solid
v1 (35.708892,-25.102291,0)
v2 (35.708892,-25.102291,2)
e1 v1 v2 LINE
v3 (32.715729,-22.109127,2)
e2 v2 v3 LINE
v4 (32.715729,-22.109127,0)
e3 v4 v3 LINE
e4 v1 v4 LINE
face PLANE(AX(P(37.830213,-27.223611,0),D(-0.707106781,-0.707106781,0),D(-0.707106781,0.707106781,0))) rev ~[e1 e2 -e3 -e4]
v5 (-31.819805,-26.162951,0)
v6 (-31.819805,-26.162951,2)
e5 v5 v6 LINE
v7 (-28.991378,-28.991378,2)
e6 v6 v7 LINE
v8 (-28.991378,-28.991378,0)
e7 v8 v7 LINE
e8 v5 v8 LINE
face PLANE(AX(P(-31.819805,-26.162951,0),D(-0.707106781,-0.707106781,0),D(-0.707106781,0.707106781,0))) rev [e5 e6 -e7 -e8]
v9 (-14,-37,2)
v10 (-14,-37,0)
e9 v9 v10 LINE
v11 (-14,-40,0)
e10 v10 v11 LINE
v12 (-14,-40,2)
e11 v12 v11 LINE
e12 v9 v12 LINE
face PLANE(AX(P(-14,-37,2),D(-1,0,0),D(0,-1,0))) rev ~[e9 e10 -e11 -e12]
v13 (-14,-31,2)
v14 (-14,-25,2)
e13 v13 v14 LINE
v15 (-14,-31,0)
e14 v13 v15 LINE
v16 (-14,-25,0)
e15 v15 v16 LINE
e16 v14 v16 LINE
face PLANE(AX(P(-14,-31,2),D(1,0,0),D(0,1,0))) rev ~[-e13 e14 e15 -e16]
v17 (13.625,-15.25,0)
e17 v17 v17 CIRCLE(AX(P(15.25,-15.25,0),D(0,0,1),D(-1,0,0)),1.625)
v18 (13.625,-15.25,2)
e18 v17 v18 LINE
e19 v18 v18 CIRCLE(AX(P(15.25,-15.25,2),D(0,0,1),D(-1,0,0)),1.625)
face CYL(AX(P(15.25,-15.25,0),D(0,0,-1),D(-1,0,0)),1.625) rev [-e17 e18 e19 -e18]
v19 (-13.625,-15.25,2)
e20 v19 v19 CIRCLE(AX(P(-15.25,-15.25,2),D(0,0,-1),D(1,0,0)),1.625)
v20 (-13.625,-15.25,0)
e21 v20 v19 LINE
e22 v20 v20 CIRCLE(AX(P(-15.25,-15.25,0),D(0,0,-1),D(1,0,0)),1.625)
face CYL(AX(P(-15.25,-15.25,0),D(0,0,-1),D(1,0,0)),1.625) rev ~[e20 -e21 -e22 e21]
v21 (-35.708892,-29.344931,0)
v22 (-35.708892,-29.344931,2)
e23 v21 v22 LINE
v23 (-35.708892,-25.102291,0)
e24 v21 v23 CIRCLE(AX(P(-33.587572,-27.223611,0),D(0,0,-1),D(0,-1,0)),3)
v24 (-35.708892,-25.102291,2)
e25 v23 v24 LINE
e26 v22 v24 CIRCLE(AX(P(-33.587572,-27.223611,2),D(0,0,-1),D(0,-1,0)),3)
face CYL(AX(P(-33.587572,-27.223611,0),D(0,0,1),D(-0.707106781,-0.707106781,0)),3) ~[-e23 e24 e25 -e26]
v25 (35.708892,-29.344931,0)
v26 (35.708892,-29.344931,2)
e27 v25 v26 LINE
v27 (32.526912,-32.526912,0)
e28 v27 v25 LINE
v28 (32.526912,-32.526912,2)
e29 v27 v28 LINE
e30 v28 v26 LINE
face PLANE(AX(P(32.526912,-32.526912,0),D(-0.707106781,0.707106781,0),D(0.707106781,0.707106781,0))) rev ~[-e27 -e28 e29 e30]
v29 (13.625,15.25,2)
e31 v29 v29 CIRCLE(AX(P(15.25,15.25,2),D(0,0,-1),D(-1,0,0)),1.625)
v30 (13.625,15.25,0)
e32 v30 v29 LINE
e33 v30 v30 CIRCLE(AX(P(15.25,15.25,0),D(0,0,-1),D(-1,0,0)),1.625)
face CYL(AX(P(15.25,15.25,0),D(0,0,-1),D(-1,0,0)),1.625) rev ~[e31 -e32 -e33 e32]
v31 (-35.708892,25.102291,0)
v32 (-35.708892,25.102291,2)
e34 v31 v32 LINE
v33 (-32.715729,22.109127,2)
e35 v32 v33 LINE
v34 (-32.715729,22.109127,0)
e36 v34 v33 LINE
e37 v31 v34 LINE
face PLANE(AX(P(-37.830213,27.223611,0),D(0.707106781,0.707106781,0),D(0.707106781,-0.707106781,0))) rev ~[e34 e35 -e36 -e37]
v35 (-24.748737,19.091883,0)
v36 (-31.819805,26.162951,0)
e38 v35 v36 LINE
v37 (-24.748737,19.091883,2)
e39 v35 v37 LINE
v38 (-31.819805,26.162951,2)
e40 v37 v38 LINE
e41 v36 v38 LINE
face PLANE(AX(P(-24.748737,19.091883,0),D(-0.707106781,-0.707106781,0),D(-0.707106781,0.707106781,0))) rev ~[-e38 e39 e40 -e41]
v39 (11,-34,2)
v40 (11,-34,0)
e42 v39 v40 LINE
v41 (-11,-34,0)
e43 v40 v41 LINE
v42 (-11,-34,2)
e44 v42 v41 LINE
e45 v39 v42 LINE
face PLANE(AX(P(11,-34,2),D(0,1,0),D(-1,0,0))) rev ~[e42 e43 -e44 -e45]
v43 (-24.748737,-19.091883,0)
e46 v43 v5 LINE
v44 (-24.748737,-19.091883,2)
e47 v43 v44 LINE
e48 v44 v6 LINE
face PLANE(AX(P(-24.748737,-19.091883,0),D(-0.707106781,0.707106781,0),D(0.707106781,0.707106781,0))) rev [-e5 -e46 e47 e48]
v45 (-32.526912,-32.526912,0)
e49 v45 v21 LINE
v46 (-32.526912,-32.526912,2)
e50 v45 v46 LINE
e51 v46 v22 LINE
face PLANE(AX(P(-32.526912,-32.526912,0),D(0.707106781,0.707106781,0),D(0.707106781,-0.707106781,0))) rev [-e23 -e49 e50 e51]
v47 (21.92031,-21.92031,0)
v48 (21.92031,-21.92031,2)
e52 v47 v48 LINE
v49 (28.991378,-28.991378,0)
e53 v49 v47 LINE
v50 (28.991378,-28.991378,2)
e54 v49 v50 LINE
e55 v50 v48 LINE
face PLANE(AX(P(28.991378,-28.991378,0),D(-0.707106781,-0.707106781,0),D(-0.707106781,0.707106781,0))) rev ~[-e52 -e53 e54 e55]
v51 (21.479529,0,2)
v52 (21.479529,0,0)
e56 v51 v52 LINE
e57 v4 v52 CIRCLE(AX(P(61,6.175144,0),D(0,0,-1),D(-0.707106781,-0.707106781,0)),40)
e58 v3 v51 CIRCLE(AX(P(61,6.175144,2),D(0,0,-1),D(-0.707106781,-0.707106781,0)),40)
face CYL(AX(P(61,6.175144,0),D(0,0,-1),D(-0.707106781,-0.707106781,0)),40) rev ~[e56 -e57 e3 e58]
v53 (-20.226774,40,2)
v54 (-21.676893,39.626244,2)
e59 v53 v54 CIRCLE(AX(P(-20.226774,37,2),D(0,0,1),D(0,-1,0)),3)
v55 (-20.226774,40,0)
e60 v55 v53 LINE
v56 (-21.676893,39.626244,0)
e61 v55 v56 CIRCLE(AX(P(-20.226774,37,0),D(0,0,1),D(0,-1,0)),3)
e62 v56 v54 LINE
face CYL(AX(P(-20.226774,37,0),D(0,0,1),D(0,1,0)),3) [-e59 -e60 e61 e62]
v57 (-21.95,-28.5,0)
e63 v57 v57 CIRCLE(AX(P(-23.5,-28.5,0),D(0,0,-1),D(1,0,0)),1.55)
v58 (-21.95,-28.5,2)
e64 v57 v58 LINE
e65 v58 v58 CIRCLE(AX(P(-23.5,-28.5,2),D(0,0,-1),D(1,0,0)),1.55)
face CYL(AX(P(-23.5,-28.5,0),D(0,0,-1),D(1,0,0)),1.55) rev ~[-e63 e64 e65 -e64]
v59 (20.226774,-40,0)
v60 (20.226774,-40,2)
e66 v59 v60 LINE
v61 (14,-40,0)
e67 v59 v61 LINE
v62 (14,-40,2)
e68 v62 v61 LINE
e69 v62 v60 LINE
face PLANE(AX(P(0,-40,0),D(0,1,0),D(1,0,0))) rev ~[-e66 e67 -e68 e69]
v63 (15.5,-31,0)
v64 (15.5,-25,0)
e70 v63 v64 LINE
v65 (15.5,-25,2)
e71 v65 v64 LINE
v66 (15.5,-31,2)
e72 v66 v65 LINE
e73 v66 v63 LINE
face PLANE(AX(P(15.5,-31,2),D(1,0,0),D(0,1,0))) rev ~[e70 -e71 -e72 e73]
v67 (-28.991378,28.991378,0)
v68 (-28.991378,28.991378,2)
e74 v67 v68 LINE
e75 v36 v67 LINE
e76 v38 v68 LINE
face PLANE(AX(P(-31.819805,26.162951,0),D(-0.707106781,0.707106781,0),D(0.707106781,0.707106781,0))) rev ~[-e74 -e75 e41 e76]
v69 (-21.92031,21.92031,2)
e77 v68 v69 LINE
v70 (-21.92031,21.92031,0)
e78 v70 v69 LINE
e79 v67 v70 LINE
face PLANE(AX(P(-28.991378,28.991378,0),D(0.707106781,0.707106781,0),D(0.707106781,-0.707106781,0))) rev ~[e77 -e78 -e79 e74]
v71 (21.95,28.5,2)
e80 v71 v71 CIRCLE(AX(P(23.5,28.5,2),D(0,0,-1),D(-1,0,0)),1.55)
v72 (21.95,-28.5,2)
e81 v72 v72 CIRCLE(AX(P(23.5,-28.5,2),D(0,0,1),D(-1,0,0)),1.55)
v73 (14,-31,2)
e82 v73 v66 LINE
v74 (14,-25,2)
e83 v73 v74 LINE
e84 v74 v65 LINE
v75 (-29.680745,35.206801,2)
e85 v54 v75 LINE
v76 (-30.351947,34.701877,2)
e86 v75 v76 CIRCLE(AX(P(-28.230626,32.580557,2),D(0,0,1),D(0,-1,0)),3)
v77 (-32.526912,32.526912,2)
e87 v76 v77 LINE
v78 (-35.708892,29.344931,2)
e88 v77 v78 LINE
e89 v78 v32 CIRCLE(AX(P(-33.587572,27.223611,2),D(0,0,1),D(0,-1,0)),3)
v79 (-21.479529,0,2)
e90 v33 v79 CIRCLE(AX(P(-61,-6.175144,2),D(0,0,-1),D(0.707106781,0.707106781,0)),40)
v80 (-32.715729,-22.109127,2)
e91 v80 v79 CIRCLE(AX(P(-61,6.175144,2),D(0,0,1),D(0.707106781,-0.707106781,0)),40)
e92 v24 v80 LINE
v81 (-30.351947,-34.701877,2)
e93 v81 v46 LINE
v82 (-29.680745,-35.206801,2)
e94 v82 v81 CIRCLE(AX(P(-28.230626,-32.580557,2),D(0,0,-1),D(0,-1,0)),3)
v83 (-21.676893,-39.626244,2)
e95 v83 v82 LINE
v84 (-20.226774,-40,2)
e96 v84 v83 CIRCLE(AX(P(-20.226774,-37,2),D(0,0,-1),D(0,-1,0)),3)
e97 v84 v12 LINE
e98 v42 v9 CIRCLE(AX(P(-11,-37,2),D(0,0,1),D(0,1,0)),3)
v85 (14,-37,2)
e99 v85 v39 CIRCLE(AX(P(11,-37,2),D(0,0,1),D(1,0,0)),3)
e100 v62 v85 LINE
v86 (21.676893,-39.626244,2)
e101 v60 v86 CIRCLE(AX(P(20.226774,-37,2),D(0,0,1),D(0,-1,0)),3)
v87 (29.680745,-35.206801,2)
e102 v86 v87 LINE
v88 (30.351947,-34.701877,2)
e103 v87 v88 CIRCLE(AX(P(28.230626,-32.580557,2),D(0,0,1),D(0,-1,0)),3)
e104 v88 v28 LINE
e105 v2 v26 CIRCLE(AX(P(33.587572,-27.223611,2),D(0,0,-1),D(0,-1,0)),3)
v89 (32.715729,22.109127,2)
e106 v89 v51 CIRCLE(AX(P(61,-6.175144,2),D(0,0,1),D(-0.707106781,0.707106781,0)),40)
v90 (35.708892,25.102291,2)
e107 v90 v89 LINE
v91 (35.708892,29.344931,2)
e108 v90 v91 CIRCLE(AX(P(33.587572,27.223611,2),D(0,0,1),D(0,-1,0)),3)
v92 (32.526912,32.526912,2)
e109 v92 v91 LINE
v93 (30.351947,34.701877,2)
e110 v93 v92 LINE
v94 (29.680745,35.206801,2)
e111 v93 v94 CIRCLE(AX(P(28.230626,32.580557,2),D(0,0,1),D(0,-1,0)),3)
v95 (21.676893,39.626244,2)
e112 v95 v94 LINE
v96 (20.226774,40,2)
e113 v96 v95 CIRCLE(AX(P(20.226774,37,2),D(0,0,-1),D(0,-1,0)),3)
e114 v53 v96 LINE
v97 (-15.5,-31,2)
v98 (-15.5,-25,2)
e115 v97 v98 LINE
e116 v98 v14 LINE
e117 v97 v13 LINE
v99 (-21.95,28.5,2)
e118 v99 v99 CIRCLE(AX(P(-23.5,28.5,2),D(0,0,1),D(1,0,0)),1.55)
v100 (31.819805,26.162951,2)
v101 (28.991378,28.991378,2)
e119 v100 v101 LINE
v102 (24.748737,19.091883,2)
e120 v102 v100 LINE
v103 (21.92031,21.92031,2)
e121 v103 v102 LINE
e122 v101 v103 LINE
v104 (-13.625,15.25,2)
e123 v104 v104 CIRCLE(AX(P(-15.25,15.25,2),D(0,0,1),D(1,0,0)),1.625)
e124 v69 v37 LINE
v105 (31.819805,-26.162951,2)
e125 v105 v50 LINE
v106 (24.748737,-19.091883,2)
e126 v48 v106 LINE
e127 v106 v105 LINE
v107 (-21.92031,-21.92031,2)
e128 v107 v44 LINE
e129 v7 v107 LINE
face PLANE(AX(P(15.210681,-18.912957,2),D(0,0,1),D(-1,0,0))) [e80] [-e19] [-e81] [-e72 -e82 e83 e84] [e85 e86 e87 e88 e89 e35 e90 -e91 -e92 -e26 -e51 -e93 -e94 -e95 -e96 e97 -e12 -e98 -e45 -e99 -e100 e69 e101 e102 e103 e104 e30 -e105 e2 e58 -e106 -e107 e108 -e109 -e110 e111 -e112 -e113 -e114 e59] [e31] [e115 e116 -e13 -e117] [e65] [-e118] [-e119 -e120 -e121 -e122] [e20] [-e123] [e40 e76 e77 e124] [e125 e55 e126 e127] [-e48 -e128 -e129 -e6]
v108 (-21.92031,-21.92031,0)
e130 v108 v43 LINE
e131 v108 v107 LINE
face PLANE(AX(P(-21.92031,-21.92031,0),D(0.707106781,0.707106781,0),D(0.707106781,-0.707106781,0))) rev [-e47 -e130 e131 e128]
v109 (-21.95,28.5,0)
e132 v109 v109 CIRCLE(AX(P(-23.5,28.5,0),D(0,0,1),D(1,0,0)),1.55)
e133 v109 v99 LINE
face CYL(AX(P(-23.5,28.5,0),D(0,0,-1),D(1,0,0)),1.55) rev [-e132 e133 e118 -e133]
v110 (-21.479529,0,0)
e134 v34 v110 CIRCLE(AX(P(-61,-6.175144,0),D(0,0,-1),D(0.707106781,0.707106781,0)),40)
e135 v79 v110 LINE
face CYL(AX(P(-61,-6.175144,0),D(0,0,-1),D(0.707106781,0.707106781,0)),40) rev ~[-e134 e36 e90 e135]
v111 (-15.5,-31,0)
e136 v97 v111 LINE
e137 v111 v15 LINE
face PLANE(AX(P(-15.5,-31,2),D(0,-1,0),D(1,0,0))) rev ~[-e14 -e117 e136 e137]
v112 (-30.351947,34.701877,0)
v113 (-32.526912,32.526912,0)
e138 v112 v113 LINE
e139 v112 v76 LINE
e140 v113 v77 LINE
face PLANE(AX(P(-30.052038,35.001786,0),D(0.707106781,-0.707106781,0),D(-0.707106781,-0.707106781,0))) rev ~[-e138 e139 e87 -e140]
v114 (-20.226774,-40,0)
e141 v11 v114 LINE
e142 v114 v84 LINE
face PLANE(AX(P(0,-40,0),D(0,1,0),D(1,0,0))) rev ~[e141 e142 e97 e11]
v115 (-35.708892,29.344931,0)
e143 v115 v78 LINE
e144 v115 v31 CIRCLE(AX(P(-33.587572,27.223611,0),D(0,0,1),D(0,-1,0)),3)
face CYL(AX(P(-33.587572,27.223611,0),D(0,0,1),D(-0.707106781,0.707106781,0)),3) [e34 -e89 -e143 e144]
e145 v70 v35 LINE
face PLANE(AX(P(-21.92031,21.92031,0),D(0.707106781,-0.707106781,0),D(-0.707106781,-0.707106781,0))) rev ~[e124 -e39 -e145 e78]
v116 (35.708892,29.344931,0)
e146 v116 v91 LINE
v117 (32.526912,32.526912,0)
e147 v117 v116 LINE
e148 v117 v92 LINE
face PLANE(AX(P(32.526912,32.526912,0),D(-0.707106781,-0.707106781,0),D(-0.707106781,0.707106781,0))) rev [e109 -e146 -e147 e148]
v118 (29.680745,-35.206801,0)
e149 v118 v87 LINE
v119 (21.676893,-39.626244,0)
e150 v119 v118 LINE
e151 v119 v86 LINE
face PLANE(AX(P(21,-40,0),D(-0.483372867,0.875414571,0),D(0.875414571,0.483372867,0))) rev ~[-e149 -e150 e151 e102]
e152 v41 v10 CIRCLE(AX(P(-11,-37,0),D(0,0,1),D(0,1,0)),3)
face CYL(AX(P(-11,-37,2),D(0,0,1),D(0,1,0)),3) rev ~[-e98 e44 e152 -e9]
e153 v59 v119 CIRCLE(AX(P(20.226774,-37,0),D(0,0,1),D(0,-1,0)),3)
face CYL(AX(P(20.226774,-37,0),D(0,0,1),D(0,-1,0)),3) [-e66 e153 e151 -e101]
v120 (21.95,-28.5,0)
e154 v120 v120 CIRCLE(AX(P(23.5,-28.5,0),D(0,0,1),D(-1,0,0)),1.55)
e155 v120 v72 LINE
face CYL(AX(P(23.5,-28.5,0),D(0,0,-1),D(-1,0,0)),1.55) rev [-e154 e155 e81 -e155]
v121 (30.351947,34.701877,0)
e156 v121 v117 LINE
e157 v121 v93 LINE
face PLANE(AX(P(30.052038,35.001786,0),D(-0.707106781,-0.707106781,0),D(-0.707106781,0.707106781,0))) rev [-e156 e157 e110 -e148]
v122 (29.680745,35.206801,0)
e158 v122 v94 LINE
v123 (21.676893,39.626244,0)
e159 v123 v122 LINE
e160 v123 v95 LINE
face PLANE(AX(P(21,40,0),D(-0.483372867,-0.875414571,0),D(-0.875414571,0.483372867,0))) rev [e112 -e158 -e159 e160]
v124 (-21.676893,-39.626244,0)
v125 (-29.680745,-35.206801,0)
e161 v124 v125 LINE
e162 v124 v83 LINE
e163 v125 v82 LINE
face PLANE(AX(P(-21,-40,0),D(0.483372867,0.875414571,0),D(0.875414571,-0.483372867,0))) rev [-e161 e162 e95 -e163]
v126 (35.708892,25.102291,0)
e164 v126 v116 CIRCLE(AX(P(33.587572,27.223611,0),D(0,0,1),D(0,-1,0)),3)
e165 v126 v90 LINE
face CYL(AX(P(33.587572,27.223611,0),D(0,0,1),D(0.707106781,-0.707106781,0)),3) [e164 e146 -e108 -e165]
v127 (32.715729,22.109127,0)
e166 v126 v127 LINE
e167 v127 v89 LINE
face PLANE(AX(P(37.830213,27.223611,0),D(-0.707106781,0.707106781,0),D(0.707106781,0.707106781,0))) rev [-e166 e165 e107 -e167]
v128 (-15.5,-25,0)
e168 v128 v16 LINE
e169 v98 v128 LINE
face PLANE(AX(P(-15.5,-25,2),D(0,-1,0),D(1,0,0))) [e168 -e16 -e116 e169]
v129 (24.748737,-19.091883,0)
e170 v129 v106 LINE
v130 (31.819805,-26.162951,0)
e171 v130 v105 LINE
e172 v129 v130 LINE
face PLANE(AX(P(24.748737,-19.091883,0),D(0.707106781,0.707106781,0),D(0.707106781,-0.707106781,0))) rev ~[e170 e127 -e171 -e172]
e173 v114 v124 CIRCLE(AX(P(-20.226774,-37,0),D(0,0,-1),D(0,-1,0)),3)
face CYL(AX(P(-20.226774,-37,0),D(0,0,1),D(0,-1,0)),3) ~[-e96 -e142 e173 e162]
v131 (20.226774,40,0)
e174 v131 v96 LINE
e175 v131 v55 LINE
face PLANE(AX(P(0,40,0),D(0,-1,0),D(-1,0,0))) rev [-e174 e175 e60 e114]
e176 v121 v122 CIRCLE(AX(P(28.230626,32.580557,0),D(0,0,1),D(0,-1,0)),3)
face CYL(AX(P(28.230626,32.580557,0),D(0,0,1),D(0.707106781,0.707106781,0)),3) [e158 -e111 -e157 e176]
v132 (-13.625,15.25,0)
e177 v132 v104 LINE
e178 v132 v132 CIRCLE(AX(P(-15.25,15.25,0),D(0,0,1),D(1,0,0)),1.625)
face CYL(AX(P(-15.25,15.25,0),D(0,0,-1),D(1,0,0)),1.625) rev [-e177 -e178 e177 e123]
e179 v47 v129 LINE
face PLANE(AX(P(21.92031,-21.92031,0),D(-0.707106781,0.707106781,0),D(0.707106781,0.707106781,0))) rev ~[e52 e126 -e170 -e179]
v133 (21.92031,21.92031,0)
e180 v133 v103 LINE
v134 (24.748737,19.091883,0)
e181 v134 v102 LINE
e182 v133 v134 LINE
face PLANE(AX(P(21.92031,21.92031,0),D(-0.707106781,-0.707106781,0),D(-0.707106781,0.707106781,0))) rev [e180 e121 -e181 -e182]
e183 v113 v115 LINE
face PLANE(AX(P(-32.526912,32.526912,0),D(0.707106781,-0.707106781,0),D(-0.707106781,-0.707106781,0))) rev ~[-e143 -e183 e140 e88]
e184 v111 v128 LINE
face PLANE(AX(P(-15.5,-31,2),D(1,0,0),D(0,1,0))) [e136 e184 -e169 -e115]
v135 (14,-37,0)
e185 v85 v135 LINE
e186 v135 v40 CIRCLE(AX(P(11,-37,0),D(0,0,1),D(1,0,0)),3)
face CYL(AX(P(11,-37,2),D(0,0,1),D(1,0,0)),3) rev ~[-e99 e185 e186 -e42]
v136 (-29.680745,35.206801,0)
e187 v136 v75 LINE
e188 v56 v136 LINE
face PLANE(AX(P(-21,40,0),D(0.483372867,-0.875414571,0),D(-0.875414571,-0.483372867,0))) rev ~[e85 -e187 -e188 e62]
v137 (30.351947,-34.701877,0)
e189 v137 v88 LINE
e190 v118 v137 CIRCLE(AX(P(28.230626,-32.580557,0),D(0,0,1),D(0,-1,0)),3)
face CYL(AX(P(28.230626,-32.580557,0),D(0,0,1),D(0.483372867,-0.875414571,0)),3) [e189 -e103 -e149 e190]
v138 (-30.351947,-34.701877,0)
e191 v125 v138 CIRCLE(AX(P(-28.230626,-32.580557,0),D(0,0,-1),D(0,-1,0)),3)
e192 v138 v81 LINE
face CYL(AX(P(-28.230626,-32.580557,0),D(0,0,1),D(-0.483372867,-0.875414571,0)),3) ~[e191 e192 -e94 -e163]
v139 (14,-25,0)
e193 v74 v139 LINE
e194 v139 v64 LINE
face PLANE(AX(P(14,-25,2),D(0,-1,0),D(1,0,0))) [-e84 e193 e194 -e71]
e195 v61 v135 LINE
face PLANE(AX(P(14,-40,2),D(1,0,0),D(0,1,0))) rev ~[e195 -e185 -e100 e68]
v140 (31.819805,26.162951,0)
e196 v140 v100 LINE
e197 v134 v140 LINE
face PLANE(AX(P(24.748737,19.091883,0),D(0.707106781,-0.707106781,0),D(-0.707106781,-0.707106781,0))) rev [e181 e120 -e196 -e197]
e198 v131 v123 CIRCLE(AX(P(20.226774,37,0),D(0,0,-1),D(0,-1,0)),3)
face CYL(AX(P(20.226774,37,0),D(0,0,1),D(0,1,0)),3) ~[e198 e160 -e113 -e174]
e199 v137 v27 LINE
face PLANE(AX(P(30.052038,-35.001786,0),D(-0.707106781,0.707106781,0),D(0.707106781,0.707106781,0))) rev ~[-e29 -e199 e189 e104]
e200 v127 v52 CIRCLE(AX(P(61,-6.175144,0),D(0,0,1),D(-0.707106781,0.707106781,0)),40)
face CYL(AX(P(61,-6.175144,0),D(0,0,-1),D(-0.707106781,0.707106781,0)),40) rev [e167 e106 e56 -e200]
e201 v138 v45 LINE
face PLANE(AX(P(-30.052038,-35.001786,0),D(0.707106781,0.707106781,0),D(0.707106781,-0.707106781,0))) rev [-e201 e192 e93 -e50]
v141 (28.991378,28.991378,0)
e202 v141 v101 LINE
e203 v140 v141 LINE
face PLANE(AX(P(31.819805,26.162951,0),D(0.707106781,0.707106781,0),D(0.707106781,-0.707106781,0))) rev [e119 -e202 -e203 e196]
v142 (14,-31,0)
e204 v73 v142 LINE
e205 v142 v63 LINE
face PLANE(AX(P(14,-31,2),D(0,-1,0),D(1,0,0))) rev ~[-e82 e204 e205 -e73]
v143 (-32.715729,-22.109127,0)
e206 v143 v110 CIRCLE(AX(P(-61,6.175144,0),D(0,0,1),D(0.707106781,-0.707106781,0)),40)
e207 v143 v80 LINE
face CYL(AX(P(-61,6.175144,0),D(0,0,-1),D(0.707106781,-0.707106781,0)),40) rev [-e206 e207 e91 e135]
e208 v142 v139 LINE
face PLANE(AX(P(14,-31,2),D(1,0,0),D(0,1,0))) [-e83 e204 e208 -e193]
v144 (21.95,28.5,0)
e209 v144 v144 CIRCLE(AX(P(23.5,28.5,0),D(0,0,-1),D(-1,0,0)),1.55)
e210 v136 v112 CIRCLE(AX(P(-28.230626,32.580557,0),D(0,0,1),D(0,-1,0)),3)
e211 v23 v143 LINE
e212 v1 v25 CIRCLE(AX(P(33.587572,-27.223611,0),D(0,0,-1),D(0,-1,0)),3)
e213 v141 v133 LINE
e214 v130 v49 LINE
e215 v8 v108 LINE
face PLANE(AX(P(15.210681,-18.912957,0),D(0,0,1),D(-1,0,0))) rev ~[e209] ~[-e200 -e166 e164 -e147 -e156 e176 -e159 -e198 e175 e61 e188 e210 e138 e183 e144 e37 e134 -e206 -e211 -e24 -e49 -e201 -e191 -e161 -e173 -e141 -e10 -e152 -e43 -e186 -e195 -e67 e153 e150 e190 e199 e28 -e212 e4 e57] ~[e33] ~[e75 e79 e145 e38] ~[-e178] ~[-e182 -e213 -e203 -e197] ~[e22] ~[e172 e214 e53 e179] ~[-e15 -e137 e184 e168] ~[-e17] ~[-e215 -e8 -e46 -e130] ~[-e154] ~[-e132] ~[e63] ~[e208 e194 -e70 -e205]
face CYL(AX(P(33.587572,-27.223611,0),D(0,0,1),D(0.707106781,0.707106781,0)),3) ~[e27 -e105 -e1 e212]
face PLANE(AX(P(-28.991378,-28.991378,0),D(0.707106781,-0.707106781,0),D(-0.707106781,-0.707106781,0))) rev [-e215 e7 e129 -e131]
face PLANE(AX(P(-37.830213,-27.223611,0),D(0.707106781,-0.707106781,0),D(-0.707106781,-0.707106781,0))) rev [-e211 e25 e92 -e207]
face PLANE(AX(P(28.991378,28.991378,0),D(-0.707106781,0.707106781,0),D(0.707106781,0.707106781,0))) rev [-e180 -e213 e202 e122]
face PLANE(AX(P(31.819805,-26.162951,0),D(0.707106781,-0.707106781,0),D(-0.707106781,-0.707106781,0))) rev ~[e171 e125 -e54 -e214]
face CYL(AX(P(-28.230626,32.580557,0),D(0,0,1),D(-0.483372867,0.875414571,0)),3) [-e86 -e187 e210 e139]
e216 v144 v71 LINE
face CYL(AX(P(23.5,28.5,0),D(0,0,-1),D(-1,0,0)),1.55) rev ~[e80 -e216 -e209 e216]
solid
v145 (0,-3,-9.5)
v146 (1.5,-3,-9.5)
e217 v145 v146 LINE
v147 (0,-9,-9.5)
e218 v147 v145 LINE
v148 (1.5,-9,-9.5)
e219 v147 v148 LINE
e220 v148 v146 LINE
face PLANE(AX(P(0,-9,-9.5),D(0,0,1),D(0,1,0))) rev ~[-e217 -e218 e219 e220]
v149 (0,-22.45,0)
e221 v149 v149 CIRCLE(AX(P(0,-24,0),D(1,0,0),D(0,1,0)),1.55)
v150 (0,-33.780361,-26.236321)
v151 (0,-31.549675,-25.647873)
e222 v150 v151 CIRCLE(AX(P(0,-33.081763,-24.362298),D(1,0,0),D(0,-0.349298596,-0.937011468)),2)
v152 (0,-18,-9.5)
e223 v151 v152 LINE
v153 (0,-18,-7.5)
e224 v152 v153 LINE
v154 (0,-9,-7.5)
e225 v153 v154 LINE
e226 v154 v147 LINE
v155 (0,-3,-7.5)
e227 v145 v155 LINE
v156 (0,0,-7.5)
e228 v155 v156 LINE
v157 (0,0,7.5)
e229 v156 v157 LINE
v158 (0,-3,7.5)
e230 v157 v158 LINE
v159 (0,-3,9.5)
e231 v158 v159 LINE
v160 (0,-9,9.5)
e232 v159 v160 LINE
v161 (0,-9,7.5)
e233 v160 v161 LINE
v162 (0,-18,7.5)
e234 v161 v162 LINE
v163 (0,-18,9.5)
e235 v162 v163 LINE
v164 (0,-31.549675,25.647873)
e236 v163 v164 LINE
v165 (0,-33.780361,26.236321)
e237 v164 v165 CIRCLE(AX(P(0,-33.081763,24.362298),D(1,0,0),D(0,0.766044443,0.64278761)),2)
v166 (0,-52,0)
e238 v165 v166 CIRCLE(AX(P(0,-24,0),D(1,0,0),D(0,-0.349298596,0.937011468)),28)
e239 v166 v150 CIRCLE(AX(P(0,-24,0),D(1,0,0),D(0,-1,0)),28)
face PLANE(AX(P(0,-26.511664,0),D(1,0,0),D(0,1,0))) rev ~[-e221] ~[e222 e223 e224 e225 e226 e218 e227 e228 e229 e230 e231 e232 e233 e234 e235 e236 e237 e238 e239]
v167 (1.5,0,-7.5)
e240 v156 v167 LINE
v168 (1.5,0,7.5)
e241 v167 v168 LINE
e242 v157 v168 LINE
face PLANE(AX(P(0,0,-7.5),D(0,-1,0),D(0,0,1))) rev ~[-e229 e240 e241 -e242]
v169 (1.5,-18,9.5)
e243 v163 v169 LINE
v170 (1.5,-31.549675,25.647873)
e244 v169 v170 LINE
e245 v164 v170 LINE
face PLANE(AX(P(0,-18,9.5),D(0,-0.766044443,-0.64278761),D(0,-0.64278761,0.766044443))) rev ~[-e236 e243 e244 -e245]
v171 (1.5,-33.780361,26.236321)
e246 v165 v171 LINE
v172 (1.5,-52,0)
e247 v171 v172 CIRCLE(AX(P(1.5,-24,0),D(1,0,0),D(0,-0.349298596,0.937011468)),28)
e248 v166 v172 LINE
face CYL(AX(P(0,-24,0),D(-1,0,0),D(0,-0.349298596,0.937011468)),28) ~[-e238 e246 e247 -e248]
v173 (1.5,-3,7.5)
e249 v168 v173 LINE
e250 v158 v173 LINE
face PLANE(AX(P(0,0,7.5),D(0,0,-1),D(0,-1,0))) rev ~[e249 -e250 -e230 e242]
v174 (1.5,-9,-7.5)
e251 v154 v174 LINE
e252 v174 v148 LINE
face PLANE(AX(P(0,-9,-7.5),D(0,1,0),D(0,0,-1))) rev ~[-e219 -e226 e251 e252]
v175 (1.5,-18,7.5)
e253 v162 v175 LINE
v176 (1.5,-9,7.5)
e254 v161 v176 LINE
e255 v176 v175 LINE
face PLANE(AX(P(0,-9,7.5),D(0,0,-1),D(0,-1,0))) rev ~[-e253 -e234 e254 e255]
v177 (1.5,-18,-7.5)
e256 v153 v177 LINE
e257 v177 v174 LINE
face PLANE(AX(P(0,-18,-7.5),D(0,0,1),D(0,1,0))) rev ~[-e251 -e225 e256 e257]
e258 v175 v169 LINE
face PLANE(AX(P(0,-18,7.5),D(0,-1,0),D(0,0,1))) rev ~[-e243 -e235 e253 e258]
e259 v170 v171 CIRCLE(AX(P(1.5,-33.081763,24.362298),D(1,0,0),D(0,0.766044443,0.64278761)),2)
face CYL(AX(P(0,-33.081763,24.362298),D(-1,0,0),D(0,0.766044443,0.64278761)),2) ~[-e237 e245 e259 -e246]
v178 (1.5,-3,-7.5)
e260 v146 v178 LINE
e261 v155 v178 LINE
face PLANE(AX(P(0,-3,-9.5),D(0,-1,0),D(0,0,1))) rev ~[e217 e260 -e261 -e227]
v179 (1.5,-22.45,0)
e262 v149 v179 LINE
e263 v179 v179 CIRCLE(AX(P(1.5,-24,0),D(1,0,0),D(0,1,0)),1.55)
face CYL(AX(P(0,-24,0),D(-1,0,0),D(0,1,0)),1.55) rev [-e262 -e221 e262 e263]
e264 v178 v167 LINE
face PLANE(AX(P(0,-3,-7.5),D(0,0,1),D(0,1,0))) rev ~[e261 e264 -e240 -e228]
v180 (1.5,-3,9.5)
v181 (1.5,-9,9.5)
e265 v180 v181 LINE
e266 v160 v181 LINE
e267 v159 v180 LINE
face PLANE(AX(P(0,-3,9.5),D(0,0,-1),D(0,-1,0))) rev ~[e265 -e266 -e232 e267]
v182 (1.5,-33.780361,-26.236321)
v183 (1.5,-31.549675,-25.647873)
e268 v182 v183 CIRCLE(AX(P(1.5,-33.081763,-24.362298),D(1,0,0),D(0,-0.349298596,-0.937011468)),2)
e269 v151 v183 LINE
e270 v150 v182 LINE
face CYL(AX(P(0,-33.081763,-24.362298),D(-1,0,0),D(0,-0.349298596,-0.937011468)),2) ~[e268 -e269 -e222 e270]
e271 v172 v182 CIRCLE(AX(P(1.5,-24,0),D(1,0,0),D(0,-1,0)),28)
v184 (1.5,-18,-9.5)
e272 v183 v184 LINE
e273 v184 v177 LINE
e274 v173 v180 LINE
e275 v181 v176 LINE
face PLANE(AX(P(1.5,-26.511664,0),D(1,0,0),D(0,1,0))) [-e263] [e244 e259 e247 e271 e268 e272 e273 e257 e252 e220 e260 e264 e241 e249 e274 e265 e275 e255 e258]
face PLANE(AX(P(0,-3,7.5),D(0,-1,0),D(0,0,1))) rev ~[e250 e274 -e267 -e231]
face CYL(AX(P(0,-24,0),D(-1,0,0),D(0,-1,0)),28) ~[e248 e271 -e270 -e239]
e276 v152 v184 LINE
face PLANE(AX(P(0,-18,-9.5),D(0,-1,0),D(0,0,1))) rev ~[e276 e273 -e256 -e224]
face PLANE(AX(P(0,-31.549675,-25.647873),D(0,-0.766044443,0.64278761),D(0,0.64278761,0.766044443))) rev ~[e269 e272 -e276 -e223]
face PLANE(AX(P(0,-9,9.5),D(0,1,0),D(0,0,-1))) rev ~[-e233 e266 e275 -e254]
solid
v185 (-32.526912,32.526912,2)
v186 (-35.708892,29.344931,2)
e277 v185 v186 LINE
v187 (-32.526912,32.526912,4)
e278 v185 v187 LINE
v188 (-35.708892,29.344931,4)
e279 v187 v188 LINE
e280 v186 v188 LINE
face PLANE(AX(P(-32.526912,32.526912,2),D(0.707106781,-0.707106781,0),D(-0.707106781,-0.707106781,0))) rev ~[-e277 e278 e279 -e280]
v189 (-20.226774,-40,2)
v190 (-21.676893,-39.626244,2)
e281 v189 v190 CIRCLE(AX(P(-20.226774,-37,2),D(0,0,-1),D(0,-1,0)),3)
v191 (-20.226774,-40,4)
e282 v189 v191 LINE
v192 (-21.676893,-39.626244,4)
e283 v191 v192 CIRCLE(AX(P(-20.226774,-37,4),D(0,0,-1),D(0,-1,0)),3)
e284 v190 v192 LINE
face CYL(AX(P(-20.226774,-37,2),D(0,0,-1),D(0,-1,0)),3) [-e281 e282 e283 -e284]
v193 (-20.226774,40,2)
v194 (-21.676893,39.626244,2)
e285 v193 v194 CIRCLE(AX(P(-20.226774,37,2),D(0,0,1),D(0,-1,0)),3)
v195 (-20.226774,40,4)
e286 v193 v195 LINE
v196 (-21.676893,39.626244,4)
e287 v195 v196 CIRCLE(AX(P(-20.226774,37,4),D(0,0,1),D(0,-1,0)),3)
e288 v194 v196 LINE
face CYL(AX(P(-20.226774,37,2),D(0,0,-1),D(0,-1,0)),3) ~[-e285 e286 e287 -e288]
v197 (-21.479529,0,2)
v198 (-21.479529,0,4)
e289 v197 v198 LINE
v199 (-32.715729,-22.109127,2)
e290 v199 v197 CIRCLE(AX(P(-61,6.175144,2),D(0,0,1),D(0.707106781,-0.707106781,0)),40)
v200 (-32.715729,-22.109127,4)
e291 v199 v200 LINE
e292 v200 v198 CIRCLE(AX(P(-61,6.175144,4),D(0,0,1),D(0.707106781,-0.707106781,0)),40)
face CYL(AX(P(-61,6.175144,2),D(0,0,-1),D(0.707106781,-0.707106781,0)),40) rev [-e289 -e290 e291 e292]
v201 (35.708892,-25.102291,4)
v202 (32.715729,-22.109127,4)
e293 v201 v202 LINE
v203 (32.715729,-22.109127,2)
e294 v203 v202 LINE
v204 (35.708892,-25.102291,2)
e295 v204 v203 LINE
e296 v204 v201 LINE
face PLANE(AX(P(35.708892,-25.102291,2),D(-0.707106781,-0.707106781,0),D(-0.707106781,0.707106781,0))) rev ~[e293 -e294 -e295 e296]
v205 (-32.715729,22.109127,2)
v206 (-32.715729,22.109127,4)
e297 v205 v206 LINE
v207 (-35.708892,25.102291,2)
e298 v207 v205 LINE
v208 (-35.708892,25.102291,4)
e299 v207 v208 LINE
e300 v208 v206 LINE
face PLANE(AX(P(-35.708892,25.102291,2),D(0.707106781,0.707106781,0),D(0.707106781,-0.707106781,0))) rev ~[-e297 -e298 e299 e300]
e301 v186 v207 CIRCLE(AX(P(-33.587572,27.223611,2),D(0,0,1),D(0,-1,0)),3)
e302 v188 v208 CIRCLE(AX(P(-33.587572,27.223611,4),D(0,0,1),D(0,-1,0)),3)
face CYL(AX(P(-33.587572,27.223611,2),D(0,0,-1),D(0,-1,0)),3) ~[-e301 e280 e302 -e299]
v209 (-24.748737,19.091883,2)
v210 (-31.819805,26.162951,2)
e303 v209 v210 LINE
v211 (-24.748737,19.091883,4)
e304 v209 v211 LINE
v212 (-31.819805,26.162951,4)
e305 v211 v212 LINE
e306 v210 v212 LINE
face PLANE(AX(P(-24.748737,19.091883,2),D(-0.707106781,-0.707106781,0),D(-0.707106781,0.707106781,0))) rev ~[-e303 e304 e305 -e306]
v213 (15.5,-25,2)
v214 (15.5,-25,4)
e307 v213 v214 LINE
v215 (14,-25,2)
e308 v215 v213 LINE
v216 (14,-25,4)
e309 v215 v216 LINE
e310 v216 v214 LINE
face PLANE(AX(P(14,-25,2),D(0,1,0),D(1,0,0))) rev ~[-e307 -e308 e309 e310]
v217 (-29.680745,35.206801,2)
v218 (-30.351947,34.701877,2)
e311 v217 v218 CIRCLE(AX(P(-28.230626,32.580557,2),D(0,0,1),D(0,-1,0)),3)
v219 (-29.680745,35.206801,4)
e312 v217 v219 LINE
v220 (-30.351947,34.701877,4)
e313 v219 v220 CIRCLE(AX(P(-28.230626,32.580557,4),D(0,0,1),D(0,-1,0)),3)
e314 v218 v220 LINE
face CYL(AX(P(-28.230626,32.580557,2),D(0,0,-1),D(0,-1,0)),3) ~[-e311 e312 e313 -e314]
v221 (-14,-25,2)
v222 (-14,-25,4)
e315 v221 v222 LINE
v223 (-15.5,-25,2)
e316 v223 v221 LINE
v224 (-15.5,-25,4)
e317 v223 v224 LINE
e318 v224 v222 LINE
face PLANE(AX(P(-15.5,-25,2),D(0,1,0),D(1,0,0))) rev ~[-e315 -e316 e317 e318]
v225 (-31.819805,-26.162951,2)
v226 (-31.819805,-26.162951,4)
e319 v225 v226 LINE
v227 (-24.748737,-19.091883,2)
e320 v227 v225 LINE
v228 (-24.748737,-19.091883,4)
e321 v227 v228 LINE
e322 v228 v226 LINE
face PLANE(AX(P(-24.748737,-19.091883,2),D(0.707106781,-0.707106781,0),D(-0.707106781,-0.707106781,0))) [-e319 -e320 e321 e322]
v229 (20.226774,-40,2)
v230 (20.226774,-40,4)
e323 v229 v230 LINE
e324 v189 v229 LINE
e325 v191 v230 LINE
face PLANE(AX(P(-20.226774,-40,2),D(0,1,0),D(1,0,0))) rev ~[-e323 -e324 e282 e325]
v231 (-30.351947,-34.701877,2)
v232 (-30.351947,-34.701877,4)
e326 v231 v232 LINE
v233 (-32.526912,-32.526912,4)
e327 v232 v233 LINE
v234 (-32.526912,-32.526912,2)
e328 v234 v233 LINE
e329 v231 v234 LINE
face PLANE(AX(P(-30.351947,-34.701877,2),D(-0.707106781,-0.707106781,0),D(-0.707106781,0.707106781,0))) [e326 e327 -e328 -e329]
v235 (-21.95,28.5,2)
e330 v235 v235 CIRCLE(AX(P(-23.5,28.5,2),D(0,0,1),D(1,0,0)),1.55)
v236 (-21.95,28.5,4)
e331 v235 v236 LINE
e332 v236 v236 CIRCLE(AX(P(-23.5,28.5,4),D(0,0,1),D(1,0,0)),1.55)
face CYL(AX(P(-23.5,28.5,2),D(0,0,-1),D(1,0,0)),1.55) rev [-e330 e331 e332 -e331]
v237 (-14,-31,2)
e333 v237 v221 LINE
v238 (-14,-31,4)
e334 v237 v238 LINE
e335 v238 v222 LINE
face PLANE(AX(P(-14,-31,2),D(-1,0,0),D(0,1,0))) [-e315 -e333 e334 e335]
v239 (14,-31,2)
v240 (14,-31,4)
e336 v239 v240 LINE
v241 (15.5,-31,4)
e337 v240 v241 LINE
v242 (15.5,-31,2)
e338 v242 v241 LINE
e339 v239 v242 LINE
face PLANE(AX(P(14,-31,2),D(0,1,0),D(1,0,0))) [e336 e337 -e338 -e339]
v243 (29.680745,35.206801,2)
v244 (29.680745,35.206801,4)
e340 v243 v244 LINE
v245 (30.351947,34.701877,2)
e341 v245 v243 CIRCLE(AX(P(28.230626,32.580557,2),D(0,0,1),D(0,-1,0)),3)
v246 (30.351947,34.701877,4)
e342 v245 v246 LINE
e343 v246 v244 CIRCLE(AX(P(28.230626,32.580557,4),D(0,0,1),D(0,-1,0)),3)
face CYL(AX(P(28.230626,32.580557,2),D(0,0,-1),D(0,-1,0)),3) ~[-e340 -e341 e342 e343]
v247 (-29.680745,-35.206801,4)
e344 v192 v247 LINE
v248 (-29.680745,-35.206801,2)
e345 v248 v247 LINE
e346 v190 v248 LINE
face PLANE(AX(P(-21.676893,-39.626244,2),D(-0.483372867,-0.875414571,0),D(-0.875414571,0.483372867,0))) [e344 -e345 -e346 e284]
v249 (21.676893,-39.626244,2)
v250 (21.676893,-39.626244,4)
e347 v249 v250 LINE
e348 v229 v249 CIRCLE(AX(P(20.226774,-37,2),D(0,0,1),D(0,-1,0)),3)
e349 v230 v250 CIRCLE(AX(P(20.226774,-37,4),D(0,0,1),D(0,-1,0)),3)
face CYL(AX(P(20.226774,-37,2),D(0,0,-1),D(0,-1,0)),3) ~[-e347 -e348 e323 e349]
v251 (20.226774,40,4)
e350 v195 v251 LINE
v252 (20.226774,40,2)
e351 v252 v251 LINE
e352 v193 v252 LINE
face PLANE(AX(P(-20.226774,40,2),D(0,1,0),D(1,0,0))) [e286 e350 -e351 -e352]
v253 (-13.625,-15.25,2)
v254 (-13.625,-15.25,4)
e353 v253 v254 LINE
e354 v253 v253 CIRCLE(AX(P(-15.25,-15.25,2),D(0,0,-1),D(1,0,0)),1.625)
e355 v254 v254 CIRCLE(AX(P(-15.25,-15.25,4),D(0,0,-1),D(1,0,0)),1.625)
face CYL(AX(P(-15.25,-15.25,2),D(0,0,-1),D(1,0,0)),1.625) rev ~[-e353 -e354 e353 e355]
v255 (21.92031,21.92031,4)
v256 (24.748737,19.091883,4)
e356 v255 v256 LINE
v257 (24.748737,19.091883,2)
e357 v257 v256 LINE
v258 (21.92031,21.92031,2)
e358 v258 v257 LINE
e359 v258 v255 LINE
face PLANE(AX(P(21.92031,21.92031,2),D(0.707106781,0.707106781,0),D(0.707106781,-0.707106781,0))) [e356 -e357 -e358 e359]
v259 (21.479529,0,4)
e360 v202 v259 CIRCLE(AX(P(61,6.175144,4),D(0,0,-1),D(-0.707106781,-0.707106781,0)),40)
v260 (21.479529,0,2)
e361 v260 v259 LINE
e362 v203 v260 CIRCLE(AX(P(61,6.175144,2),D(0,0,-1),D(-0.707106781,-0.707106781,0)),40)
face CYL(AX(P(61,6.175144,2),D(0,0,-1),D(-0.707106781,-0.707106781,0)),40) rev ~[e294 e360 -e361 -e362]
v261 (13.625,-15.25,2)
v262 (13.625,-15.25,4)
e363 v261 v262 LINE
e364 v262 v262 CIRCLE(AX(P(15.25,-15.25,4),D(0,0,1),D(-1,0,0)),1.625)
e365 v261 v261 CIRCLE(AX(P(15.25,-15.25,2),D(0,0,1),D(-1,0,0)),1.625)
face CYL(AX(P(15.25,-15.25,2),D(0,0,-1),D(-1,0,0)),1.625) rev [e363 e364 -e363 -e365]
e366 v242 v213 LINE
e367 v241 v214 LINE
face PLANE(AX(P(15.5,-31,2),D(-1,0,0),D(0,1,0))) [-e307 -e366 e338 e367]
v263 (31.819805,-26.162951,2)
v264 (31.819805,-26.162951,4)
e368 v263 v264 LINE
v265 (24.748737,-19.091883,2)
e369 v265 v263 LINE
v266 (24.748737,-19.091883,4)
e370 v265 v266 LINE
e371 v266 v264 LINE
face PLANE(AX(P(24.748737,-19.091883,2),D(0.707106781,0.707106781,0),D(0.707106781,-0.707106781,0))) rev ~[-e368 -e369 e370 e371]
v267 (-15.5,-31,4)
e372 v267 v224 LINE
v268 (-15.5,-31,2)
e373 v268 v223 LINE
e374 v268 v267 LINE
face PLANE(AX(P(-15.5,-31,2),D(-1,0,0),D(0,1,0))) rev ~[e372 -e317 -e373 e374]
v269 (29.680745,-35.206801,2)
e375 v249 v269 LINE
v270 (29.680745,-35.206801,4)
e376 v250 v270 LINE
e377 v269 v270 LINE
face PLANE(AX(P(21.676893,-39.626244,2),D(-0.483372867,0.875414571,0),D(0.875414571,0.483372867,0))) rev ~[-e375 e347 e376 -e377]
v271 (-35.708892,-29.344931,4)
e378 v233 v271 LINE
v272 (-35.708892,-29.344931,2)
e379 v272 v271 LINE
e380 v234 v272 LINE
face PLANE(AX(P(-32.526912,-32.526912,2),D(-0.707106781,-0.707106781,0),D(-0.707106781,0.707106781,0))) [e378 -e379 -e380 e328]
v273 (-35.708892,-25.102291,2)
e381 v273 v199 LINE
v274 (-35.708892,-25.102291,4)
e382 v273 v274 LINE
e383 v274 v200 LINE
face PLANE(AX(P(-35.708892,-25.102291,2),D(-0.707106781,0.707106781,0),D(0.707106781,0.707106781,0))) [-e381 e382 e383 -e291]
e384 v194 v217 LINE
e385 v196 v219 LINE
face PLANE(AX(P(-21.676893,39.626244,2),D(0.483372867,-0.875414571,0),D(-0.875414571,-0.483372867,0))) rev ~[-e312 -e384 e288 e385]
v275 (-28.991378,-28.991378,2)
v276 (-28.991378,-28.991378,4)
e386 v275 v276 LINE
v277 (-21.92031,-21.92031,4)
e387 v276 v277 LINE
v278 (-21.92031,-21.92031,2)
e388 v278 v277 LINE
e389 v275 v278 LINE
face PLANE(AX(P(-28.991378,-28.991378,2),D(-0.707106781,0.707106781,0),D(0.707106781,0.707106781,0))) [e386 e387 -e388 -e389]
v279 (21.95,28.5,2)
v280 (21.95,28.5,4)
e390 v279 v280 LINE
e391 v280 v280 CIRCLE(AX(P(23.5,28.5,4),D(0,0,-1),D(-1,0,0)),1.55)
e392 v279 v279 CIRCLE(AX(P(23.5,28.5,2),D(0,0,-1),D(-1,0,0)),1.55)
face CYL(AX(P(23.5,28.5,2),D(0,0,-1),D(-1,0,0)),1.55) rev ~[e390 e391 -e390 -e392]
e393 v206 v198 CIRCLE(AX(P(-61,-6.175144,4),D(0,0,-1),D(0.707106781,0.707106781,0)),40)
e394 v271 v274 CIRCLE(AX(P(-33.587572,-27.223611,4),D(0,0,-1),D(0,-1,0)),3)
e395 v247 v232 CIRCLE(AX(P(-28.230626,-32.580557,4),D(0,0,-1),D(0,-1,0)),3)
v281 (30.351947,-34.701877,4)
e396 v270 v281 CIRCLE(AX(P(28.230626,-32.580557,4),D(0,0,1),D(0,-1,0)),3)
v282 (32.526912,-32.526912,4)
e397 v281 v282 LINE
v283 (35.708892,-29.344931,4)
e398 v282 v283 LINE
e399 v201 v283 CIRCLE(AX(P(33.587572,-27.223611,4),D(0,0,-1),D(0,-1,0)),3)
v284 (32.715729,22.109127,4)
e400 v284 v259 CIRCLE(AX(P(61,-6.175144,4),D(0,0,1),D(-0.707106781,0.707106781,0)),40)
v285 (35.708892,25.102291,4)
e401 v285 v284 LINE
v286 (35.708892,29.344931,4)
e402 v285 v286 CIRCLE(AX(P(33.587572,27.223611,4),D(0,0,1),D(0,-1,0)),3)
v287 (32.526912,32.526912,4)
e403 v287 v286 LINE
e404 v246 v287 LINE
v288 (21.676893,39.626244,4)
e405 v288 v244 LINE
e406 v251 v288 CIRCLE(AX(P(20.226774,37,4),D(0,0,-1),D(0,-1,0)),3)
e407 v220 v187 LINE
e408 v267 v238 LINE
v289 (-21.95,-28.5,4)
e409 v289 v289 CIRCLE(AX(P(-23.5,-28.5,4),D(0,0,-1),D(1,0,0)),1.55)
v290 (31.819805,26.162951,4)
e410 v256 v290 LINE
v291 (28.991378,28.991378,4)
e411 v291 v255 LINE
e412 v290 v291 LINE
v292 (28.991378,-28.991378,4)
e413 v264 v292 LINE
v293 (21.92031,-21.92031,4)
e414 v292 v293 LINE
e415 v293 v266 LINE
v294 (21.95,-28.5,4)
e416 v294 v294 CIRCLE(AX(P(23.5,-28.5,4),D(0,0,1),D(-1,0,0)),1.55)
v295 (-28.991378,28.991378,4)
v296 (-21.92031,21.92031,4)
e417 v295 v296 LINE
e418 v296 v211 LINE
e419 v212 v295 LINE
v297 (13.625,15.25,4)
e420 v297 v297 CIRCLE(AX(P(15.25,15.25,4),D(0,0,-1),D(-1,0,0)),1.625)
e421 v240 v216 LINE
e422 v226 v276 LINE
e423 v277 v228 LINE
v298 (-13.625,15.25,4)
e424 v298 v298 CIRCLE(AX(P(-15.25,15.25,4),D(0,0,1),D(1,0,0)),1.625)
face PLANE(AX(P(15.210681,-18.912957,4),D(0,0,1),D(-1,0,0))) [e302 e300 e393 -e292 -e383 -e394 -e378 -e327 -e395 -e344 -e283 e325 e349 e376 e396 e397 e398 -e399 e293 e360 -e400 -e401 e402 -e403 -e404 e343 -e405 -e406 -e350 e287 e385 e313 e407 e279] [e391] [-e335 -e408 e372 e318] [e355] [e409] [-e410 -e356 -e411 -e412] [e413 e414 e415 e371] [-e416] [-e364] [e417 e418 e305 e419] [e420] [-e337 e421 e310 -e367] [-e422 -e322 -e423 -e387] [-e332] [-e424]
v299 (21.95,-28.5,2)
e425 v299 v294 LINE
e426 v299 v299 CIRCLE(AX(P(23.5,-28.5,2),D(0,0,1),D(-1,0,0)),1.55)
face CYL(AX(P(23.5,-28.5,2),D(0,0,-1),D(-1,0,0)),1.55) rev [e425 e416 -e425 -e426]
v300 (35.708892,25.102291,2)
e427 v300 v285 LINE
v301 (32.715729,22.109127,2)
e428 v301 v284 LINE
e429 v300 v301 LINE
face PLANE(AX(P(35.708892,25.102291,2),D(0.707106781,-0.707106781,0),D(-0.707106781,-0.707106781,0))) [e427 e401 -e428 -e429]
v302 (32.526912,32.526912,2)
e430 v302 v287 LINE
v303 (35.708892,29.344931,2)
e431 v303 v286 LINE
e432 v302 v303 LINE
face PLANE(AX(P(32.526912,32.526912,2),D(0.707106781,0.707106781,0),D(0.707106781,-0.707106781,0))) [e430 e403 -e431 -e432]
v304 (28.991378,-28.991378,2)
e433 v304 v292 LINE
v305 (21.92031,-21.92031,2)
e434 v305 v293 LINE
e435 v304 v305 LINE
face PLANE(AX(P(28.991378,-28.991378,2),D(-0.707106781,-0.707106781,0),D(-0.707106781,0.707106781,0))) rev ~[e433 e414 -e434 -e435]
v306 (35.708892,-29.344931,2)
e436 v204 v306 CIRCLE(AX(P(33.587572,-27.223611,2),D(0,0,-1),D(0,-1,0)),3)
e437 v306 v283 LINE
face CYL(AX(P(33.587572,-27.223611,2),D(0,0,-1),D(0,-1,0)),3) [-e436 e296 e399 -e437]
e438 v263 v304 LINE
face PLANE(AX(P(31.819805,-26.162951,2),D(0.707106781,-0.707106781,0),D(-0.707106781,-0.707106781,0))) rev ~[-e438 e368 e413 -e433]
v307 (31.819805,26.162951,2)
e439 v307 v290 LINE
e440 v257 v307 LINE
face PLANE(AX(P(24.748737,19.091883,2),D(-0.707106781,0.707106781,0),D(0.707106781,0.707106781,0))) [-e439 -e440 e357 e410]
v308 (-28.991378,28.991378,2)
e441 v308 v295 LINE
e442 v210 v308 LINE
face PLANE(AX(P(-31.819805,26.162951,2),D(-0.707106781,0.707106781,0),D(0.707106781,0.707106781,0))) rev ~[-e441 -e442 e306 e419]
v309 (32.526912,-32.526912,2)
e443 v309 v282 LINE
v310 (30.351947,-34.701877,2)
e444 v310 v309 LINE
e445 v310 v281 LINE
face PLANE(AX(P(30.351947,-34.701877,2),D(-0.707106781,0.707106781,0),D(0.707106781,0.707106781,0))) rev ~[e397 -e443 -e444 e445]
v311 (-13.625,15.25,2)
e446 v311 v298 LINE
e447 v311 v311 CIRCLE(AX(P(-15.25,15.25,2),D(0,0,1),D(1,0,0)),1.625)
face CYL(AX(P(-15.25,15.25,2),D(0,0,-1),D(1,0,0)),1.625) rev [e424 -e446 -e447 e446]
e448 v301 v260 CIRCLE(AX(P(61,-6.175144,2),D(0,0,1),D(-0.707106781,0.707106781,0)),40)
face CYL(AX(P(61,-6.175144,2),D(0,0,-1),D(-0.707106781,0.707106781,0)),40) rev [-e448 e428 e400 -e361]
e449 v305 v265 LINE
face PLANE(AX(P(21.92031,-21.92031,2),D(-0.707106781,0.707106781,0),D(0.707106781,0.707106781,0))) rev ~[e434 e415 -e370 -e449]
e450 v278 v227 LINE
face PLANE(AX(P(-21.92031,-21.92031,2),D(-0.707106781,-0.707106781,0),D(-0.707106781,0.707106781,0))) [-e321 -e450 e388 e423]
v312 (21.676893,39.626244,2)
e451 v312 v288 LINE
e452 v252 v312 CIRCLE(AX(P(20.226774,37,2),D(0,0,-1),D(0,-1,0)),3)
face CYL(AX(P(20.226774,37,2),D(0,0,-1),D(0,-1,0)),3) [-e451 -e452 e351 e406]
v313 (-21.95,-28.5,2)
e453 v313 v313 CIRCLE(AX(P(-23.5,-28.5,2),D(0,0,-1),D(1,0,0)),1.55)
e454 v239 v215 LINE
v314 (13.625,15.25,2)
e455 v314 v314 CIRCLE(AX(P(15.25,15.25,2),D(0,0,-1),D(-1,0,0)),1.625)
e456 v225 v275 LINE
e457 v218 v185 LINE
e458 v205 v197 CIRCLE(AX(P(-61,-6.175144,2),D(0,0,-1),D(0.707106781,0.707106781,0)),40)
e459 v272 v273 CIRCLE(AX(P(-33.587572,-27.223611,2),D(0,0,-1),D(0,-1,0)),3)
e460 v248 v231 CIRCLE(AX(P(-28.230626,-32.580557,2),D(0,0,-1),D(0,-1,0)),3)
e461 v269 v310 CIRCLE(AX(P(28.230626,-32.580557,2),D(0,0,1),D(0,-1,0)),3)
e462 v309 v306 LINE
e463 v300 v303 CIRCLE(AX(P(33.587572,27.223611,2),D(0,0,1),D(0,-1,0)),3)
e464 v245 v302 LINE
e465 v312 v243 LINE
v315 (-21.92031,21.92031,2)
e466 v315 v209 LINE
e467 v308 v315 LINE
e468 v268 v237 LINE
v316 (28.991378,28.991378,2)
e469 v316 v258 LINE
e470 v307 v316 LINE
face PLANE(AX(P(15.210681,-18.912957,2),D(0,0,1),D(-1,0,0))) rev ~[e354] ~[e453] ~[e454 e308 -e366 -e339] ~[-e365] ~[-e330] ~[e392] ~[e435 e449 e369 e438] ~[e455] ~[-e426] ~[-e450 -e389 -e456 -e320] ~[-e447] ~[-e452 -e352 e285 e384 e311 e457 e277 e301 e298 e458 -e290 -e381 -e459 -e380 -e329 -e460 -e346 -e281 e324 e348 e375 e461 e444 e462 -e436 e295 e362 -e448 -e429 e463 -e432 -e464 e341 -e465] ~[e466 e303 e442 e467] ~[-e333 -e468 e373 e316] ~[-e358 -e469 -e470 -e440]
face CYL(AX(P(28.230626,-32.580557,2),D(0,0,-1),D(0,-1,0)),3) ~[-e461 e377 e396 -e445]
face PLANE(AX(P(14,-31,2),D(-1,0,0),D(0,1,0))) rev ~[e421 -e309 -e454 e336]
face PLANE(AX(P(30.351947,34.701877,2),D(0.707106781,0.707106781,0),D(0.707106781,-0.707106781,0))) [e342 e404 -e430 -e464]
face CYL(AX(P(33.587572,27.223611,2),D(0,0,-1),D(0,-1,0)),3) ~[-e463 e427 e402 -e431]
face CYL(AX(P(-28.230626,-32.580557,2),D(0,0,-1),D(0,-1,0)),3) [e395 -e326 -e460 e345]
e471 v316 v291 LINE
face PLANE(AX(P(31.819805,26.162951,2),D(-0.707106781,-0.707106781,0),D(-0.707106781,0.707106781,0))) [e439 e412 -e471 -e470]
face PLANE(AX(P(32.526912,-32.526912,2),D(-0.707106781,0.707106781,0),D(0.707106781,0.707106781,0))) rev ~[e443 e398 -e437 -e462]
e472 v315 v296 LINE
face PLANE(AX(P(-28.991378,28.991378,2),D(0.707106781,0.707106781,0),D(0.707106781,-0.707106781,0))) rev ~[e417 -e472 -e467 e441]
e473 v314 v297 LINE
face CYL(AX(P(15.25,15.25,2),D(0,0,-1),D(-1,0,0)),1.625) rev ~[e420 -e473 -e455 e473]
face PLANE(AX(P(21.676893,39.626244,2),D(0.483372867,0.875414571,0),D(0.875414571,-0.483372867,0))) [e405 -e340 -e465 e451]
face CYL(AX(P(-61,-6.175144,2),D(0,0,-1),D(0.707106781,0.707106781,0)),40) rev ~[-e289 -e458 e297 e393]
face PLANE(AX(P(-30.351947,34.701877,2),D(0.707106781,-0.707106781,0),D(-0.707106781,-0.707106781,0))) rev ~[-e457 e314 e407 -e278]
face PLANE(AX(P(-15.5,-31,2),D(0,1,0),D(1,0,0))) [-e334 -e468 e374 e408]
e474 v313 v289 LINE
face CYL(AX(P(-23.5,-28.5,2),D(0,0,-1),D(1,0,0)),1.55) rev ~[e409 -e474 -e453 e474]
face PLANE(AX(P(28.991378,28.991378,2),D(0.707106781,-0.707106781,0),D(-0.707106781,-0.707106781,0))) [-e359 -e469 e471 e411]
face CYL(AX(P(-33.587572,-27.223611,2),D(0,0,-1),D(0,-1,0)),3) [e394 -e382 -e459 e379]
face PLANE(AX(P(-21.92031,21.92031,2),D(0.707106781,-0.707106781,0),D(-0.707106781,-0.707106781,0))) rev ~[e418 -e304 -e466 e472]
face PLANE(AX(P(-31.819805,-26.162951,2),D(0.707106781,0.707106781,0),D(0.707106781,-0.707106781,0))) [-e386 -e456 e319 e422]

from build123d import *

# Parameters (mm, degrees)
F0_R      = 1.625
F0_R_2    = 1.55
F1_DEPTH  = 2
F4_R      = 3
F5_W      = 1.5
F5_H      = 6
F6_DEPTH  = 25
F7_DEPTH  = 2
F9_DEPTH  = 25
F10_DEPTH = 25
F11_R     = 1.55
F12_DEPTH = 1.5


with BuildPart() as f1:
    # F0 (on Top) → F1 (new body)
    with BuildSketch(Plane.XY):
        with BuildLine():
            Line((0, 40), (-21, 40))
            Line((-21, 40), (-30.0520382004, 35.0017856687))
            Line((-30.0520382004, 35.0017856687), (-32.5269119346, 32.5269119346))
            Line((-32.5269119346, 32.5269119346), (-37.8302127935, 27.2236110757))
            Line((-37.8302127935, 27.2236110757), (-32.7157287525, 22.1091270347))
            ThreePointArc((-32.7157287525, 22.1091270347), (-24.0448186995, 9.1321930819), (-21, -6.1751442127))
            Line((-21, -6.1751442127), (-21, 0))
            Line((-21, 0), (0, 0))
            Line((0, 0), (0, 40))
        make_face()
        with Locations((-15.25, 15.25)):
            Circle(F0_R, mode=Mode.SUBTRACT)
        Polygon((-31.8198051534, 26.1629509039), (-28.9913780286, 28.9913780286), (-21.9203102168, 21.9203102168), (-24.7487373415, 19.091883092), align=None, mode=Mode.SUBTRACT)
        with Locations((-23.5, 28.5)):
            Circle(F0_R_2, mode=Mode.SUBTRACT)
    extrude(amount=F1_DEPTH)

    # F2: F1 across plane


with BuildPart() as f1_1:
    add(f1.part)
    add(f1.part.mirror(Plane.YZ))

    # F3: F1 across plane


with BuildPart() as f1_2:
    add(f1_1.part)
    add(f1_1.part.mirror(Plane.XZ))

    # F4
    f4_edges = [f1_2.edges().sort_by_distance(p)[0] for p in [
        (-37.830213, 27.223611, 1),
        (-30.052038, 35.001786, 1),
        (-21, 40, 1),
        (21, 40, 1),
        (30.052038, 35.001786, 1),
        (37.830213, 27.223611, 1),
        (37.830213, -27.223611, 1),
        (30.052038, -35.001786, 1),
        (21, -40, 1),
        (-21, -40, 1),
        (-30.052038, -35.001786, 1),
        (-37.830213, -27.223611, 1),
    ]]
    fillet(f4_edges, radius=F4_R)

    # F5 (on face) → F6 (cut)
    with BuildSketch(Plane.XY.offset(2)):
        with Locations((-14.75, -28)):
            Rectangle(F5_W, F5_H)
        with Locations((14.75, -28)):
            Rectangle(F5_W, F5_H)
    extrude(amount=-F6_DEPTH, mode=Mode.SUBTRACT)


with BuildPart() as f7:
    # F7 (new): a face of the model
    f7_faces = [f1_2.part.faces().sort_by_distance(p)[0] for p in [
        (0, 0.1170988239, 2),
    ]]
    extrude(f7_faces, amount=F7_DEPTH)


with BuildPart() as f1_3:
    add(f1_2.part)

    # F8 (on face) → F9 (cut)
    with BuildSketch(Plane.XY.offset(2)):
        with BuildLine():
            Line((11, -34), (-11, -34))
            ThreePointArc((-11, -34), (-13.1213203436, -34.8786796564), (-14, -37))
            Line((-14, -37), (-14, -40))
            Line((-14, -40), (14, -40))
            Line((14, -40), (14, -37))
            ThreePointArc((14, -37), (13.1213203436, -34.8786796564), (11, -34))
        make_face()
    extrude(amount=-F9_DEPTH, mode=Mode.SUBTRACT)

    # F8 (on face) → F10 (cut)
    with BuildSketch(Plane.XY.offset(2)):
        with BuildLine():
            Line((11, -34), (-11, -34))
            ThreePointArc((-11, -34), (-13.1213203436, -34.8786796564), (-14, -37))
            Line((-14, -37), (-14, -40))
            Line((-14, -40), (14, -40))
            Line((14, -40), (14, -37))
            ThreePointArc((14, -37), (13.1213203436, -34.8786796564), (11, -34))
        make_face()
    extrude(amount=-F10_DEPTH, mode=Mode.SUBTRACT)


with BuildPart() as f12:
    # F11 (on Right) → F12 (new body)
    with BuildSketch(Plane.YZ):
        with BuildLine():
            Line((0, 0), (0, 7.5))
            Line((0, 7.5), (-3, 7.5))
            Line((-3, 7.5), (-3, 9.5))
            Line((-3, 9.5), (-9, 9.5))
            Line((-9, 9.5), (-9, 7.5))
            Line((-9, 7.5), (-18, 7.5))
            Line((-18, 7.5), (-18, 9.5))
            Line((-18, 9.5), (-31.5496746022, 25.6478733856))
            ThreePointArc((-31.5496746022, 25.6478733856), (-32.5716215669, 26.2961428394), (-33.7803606798, 26.2363211021))
            ThreePointArc((-33.7803606798, 26.2363211021), (-46.998370584, 15.9710660409), (-52, 0))
            ThreePointArc((-52, 0), (-46.998370584, -15.9710660409), (-33.7803606798, -26.2363211021))
            ThreePointArc((-33.7803606798, -26.2363211021), (-32.5716215669, -26.2961428394), (-31.5496746022, -25.6478733856))
            Line((-31.5496746022, -25.6478733856), (-18, -9.5))
            Line((-18, -9.5), (-18, -7.5))
            Line((-18, -7.5), (-9, -7.5))
            Line((-9, -7.5), (-9, -9.5))
            Line((-9, -9.5), (-3, -9.5))
            Line((-3, -9.5), (-3, -7.5))
            Line((-3, -7.5), (0, -7.5))
            Line((0, -7.5), (0, 0))
        make_face()
        with Locations((-24, 0)):
            Circle(F11_R, mode=Mode.SUBTRACT)
    extrude(amount=F12_DEPTH)


solid = Compound([f7.part, f1_3.part, f12.part])
